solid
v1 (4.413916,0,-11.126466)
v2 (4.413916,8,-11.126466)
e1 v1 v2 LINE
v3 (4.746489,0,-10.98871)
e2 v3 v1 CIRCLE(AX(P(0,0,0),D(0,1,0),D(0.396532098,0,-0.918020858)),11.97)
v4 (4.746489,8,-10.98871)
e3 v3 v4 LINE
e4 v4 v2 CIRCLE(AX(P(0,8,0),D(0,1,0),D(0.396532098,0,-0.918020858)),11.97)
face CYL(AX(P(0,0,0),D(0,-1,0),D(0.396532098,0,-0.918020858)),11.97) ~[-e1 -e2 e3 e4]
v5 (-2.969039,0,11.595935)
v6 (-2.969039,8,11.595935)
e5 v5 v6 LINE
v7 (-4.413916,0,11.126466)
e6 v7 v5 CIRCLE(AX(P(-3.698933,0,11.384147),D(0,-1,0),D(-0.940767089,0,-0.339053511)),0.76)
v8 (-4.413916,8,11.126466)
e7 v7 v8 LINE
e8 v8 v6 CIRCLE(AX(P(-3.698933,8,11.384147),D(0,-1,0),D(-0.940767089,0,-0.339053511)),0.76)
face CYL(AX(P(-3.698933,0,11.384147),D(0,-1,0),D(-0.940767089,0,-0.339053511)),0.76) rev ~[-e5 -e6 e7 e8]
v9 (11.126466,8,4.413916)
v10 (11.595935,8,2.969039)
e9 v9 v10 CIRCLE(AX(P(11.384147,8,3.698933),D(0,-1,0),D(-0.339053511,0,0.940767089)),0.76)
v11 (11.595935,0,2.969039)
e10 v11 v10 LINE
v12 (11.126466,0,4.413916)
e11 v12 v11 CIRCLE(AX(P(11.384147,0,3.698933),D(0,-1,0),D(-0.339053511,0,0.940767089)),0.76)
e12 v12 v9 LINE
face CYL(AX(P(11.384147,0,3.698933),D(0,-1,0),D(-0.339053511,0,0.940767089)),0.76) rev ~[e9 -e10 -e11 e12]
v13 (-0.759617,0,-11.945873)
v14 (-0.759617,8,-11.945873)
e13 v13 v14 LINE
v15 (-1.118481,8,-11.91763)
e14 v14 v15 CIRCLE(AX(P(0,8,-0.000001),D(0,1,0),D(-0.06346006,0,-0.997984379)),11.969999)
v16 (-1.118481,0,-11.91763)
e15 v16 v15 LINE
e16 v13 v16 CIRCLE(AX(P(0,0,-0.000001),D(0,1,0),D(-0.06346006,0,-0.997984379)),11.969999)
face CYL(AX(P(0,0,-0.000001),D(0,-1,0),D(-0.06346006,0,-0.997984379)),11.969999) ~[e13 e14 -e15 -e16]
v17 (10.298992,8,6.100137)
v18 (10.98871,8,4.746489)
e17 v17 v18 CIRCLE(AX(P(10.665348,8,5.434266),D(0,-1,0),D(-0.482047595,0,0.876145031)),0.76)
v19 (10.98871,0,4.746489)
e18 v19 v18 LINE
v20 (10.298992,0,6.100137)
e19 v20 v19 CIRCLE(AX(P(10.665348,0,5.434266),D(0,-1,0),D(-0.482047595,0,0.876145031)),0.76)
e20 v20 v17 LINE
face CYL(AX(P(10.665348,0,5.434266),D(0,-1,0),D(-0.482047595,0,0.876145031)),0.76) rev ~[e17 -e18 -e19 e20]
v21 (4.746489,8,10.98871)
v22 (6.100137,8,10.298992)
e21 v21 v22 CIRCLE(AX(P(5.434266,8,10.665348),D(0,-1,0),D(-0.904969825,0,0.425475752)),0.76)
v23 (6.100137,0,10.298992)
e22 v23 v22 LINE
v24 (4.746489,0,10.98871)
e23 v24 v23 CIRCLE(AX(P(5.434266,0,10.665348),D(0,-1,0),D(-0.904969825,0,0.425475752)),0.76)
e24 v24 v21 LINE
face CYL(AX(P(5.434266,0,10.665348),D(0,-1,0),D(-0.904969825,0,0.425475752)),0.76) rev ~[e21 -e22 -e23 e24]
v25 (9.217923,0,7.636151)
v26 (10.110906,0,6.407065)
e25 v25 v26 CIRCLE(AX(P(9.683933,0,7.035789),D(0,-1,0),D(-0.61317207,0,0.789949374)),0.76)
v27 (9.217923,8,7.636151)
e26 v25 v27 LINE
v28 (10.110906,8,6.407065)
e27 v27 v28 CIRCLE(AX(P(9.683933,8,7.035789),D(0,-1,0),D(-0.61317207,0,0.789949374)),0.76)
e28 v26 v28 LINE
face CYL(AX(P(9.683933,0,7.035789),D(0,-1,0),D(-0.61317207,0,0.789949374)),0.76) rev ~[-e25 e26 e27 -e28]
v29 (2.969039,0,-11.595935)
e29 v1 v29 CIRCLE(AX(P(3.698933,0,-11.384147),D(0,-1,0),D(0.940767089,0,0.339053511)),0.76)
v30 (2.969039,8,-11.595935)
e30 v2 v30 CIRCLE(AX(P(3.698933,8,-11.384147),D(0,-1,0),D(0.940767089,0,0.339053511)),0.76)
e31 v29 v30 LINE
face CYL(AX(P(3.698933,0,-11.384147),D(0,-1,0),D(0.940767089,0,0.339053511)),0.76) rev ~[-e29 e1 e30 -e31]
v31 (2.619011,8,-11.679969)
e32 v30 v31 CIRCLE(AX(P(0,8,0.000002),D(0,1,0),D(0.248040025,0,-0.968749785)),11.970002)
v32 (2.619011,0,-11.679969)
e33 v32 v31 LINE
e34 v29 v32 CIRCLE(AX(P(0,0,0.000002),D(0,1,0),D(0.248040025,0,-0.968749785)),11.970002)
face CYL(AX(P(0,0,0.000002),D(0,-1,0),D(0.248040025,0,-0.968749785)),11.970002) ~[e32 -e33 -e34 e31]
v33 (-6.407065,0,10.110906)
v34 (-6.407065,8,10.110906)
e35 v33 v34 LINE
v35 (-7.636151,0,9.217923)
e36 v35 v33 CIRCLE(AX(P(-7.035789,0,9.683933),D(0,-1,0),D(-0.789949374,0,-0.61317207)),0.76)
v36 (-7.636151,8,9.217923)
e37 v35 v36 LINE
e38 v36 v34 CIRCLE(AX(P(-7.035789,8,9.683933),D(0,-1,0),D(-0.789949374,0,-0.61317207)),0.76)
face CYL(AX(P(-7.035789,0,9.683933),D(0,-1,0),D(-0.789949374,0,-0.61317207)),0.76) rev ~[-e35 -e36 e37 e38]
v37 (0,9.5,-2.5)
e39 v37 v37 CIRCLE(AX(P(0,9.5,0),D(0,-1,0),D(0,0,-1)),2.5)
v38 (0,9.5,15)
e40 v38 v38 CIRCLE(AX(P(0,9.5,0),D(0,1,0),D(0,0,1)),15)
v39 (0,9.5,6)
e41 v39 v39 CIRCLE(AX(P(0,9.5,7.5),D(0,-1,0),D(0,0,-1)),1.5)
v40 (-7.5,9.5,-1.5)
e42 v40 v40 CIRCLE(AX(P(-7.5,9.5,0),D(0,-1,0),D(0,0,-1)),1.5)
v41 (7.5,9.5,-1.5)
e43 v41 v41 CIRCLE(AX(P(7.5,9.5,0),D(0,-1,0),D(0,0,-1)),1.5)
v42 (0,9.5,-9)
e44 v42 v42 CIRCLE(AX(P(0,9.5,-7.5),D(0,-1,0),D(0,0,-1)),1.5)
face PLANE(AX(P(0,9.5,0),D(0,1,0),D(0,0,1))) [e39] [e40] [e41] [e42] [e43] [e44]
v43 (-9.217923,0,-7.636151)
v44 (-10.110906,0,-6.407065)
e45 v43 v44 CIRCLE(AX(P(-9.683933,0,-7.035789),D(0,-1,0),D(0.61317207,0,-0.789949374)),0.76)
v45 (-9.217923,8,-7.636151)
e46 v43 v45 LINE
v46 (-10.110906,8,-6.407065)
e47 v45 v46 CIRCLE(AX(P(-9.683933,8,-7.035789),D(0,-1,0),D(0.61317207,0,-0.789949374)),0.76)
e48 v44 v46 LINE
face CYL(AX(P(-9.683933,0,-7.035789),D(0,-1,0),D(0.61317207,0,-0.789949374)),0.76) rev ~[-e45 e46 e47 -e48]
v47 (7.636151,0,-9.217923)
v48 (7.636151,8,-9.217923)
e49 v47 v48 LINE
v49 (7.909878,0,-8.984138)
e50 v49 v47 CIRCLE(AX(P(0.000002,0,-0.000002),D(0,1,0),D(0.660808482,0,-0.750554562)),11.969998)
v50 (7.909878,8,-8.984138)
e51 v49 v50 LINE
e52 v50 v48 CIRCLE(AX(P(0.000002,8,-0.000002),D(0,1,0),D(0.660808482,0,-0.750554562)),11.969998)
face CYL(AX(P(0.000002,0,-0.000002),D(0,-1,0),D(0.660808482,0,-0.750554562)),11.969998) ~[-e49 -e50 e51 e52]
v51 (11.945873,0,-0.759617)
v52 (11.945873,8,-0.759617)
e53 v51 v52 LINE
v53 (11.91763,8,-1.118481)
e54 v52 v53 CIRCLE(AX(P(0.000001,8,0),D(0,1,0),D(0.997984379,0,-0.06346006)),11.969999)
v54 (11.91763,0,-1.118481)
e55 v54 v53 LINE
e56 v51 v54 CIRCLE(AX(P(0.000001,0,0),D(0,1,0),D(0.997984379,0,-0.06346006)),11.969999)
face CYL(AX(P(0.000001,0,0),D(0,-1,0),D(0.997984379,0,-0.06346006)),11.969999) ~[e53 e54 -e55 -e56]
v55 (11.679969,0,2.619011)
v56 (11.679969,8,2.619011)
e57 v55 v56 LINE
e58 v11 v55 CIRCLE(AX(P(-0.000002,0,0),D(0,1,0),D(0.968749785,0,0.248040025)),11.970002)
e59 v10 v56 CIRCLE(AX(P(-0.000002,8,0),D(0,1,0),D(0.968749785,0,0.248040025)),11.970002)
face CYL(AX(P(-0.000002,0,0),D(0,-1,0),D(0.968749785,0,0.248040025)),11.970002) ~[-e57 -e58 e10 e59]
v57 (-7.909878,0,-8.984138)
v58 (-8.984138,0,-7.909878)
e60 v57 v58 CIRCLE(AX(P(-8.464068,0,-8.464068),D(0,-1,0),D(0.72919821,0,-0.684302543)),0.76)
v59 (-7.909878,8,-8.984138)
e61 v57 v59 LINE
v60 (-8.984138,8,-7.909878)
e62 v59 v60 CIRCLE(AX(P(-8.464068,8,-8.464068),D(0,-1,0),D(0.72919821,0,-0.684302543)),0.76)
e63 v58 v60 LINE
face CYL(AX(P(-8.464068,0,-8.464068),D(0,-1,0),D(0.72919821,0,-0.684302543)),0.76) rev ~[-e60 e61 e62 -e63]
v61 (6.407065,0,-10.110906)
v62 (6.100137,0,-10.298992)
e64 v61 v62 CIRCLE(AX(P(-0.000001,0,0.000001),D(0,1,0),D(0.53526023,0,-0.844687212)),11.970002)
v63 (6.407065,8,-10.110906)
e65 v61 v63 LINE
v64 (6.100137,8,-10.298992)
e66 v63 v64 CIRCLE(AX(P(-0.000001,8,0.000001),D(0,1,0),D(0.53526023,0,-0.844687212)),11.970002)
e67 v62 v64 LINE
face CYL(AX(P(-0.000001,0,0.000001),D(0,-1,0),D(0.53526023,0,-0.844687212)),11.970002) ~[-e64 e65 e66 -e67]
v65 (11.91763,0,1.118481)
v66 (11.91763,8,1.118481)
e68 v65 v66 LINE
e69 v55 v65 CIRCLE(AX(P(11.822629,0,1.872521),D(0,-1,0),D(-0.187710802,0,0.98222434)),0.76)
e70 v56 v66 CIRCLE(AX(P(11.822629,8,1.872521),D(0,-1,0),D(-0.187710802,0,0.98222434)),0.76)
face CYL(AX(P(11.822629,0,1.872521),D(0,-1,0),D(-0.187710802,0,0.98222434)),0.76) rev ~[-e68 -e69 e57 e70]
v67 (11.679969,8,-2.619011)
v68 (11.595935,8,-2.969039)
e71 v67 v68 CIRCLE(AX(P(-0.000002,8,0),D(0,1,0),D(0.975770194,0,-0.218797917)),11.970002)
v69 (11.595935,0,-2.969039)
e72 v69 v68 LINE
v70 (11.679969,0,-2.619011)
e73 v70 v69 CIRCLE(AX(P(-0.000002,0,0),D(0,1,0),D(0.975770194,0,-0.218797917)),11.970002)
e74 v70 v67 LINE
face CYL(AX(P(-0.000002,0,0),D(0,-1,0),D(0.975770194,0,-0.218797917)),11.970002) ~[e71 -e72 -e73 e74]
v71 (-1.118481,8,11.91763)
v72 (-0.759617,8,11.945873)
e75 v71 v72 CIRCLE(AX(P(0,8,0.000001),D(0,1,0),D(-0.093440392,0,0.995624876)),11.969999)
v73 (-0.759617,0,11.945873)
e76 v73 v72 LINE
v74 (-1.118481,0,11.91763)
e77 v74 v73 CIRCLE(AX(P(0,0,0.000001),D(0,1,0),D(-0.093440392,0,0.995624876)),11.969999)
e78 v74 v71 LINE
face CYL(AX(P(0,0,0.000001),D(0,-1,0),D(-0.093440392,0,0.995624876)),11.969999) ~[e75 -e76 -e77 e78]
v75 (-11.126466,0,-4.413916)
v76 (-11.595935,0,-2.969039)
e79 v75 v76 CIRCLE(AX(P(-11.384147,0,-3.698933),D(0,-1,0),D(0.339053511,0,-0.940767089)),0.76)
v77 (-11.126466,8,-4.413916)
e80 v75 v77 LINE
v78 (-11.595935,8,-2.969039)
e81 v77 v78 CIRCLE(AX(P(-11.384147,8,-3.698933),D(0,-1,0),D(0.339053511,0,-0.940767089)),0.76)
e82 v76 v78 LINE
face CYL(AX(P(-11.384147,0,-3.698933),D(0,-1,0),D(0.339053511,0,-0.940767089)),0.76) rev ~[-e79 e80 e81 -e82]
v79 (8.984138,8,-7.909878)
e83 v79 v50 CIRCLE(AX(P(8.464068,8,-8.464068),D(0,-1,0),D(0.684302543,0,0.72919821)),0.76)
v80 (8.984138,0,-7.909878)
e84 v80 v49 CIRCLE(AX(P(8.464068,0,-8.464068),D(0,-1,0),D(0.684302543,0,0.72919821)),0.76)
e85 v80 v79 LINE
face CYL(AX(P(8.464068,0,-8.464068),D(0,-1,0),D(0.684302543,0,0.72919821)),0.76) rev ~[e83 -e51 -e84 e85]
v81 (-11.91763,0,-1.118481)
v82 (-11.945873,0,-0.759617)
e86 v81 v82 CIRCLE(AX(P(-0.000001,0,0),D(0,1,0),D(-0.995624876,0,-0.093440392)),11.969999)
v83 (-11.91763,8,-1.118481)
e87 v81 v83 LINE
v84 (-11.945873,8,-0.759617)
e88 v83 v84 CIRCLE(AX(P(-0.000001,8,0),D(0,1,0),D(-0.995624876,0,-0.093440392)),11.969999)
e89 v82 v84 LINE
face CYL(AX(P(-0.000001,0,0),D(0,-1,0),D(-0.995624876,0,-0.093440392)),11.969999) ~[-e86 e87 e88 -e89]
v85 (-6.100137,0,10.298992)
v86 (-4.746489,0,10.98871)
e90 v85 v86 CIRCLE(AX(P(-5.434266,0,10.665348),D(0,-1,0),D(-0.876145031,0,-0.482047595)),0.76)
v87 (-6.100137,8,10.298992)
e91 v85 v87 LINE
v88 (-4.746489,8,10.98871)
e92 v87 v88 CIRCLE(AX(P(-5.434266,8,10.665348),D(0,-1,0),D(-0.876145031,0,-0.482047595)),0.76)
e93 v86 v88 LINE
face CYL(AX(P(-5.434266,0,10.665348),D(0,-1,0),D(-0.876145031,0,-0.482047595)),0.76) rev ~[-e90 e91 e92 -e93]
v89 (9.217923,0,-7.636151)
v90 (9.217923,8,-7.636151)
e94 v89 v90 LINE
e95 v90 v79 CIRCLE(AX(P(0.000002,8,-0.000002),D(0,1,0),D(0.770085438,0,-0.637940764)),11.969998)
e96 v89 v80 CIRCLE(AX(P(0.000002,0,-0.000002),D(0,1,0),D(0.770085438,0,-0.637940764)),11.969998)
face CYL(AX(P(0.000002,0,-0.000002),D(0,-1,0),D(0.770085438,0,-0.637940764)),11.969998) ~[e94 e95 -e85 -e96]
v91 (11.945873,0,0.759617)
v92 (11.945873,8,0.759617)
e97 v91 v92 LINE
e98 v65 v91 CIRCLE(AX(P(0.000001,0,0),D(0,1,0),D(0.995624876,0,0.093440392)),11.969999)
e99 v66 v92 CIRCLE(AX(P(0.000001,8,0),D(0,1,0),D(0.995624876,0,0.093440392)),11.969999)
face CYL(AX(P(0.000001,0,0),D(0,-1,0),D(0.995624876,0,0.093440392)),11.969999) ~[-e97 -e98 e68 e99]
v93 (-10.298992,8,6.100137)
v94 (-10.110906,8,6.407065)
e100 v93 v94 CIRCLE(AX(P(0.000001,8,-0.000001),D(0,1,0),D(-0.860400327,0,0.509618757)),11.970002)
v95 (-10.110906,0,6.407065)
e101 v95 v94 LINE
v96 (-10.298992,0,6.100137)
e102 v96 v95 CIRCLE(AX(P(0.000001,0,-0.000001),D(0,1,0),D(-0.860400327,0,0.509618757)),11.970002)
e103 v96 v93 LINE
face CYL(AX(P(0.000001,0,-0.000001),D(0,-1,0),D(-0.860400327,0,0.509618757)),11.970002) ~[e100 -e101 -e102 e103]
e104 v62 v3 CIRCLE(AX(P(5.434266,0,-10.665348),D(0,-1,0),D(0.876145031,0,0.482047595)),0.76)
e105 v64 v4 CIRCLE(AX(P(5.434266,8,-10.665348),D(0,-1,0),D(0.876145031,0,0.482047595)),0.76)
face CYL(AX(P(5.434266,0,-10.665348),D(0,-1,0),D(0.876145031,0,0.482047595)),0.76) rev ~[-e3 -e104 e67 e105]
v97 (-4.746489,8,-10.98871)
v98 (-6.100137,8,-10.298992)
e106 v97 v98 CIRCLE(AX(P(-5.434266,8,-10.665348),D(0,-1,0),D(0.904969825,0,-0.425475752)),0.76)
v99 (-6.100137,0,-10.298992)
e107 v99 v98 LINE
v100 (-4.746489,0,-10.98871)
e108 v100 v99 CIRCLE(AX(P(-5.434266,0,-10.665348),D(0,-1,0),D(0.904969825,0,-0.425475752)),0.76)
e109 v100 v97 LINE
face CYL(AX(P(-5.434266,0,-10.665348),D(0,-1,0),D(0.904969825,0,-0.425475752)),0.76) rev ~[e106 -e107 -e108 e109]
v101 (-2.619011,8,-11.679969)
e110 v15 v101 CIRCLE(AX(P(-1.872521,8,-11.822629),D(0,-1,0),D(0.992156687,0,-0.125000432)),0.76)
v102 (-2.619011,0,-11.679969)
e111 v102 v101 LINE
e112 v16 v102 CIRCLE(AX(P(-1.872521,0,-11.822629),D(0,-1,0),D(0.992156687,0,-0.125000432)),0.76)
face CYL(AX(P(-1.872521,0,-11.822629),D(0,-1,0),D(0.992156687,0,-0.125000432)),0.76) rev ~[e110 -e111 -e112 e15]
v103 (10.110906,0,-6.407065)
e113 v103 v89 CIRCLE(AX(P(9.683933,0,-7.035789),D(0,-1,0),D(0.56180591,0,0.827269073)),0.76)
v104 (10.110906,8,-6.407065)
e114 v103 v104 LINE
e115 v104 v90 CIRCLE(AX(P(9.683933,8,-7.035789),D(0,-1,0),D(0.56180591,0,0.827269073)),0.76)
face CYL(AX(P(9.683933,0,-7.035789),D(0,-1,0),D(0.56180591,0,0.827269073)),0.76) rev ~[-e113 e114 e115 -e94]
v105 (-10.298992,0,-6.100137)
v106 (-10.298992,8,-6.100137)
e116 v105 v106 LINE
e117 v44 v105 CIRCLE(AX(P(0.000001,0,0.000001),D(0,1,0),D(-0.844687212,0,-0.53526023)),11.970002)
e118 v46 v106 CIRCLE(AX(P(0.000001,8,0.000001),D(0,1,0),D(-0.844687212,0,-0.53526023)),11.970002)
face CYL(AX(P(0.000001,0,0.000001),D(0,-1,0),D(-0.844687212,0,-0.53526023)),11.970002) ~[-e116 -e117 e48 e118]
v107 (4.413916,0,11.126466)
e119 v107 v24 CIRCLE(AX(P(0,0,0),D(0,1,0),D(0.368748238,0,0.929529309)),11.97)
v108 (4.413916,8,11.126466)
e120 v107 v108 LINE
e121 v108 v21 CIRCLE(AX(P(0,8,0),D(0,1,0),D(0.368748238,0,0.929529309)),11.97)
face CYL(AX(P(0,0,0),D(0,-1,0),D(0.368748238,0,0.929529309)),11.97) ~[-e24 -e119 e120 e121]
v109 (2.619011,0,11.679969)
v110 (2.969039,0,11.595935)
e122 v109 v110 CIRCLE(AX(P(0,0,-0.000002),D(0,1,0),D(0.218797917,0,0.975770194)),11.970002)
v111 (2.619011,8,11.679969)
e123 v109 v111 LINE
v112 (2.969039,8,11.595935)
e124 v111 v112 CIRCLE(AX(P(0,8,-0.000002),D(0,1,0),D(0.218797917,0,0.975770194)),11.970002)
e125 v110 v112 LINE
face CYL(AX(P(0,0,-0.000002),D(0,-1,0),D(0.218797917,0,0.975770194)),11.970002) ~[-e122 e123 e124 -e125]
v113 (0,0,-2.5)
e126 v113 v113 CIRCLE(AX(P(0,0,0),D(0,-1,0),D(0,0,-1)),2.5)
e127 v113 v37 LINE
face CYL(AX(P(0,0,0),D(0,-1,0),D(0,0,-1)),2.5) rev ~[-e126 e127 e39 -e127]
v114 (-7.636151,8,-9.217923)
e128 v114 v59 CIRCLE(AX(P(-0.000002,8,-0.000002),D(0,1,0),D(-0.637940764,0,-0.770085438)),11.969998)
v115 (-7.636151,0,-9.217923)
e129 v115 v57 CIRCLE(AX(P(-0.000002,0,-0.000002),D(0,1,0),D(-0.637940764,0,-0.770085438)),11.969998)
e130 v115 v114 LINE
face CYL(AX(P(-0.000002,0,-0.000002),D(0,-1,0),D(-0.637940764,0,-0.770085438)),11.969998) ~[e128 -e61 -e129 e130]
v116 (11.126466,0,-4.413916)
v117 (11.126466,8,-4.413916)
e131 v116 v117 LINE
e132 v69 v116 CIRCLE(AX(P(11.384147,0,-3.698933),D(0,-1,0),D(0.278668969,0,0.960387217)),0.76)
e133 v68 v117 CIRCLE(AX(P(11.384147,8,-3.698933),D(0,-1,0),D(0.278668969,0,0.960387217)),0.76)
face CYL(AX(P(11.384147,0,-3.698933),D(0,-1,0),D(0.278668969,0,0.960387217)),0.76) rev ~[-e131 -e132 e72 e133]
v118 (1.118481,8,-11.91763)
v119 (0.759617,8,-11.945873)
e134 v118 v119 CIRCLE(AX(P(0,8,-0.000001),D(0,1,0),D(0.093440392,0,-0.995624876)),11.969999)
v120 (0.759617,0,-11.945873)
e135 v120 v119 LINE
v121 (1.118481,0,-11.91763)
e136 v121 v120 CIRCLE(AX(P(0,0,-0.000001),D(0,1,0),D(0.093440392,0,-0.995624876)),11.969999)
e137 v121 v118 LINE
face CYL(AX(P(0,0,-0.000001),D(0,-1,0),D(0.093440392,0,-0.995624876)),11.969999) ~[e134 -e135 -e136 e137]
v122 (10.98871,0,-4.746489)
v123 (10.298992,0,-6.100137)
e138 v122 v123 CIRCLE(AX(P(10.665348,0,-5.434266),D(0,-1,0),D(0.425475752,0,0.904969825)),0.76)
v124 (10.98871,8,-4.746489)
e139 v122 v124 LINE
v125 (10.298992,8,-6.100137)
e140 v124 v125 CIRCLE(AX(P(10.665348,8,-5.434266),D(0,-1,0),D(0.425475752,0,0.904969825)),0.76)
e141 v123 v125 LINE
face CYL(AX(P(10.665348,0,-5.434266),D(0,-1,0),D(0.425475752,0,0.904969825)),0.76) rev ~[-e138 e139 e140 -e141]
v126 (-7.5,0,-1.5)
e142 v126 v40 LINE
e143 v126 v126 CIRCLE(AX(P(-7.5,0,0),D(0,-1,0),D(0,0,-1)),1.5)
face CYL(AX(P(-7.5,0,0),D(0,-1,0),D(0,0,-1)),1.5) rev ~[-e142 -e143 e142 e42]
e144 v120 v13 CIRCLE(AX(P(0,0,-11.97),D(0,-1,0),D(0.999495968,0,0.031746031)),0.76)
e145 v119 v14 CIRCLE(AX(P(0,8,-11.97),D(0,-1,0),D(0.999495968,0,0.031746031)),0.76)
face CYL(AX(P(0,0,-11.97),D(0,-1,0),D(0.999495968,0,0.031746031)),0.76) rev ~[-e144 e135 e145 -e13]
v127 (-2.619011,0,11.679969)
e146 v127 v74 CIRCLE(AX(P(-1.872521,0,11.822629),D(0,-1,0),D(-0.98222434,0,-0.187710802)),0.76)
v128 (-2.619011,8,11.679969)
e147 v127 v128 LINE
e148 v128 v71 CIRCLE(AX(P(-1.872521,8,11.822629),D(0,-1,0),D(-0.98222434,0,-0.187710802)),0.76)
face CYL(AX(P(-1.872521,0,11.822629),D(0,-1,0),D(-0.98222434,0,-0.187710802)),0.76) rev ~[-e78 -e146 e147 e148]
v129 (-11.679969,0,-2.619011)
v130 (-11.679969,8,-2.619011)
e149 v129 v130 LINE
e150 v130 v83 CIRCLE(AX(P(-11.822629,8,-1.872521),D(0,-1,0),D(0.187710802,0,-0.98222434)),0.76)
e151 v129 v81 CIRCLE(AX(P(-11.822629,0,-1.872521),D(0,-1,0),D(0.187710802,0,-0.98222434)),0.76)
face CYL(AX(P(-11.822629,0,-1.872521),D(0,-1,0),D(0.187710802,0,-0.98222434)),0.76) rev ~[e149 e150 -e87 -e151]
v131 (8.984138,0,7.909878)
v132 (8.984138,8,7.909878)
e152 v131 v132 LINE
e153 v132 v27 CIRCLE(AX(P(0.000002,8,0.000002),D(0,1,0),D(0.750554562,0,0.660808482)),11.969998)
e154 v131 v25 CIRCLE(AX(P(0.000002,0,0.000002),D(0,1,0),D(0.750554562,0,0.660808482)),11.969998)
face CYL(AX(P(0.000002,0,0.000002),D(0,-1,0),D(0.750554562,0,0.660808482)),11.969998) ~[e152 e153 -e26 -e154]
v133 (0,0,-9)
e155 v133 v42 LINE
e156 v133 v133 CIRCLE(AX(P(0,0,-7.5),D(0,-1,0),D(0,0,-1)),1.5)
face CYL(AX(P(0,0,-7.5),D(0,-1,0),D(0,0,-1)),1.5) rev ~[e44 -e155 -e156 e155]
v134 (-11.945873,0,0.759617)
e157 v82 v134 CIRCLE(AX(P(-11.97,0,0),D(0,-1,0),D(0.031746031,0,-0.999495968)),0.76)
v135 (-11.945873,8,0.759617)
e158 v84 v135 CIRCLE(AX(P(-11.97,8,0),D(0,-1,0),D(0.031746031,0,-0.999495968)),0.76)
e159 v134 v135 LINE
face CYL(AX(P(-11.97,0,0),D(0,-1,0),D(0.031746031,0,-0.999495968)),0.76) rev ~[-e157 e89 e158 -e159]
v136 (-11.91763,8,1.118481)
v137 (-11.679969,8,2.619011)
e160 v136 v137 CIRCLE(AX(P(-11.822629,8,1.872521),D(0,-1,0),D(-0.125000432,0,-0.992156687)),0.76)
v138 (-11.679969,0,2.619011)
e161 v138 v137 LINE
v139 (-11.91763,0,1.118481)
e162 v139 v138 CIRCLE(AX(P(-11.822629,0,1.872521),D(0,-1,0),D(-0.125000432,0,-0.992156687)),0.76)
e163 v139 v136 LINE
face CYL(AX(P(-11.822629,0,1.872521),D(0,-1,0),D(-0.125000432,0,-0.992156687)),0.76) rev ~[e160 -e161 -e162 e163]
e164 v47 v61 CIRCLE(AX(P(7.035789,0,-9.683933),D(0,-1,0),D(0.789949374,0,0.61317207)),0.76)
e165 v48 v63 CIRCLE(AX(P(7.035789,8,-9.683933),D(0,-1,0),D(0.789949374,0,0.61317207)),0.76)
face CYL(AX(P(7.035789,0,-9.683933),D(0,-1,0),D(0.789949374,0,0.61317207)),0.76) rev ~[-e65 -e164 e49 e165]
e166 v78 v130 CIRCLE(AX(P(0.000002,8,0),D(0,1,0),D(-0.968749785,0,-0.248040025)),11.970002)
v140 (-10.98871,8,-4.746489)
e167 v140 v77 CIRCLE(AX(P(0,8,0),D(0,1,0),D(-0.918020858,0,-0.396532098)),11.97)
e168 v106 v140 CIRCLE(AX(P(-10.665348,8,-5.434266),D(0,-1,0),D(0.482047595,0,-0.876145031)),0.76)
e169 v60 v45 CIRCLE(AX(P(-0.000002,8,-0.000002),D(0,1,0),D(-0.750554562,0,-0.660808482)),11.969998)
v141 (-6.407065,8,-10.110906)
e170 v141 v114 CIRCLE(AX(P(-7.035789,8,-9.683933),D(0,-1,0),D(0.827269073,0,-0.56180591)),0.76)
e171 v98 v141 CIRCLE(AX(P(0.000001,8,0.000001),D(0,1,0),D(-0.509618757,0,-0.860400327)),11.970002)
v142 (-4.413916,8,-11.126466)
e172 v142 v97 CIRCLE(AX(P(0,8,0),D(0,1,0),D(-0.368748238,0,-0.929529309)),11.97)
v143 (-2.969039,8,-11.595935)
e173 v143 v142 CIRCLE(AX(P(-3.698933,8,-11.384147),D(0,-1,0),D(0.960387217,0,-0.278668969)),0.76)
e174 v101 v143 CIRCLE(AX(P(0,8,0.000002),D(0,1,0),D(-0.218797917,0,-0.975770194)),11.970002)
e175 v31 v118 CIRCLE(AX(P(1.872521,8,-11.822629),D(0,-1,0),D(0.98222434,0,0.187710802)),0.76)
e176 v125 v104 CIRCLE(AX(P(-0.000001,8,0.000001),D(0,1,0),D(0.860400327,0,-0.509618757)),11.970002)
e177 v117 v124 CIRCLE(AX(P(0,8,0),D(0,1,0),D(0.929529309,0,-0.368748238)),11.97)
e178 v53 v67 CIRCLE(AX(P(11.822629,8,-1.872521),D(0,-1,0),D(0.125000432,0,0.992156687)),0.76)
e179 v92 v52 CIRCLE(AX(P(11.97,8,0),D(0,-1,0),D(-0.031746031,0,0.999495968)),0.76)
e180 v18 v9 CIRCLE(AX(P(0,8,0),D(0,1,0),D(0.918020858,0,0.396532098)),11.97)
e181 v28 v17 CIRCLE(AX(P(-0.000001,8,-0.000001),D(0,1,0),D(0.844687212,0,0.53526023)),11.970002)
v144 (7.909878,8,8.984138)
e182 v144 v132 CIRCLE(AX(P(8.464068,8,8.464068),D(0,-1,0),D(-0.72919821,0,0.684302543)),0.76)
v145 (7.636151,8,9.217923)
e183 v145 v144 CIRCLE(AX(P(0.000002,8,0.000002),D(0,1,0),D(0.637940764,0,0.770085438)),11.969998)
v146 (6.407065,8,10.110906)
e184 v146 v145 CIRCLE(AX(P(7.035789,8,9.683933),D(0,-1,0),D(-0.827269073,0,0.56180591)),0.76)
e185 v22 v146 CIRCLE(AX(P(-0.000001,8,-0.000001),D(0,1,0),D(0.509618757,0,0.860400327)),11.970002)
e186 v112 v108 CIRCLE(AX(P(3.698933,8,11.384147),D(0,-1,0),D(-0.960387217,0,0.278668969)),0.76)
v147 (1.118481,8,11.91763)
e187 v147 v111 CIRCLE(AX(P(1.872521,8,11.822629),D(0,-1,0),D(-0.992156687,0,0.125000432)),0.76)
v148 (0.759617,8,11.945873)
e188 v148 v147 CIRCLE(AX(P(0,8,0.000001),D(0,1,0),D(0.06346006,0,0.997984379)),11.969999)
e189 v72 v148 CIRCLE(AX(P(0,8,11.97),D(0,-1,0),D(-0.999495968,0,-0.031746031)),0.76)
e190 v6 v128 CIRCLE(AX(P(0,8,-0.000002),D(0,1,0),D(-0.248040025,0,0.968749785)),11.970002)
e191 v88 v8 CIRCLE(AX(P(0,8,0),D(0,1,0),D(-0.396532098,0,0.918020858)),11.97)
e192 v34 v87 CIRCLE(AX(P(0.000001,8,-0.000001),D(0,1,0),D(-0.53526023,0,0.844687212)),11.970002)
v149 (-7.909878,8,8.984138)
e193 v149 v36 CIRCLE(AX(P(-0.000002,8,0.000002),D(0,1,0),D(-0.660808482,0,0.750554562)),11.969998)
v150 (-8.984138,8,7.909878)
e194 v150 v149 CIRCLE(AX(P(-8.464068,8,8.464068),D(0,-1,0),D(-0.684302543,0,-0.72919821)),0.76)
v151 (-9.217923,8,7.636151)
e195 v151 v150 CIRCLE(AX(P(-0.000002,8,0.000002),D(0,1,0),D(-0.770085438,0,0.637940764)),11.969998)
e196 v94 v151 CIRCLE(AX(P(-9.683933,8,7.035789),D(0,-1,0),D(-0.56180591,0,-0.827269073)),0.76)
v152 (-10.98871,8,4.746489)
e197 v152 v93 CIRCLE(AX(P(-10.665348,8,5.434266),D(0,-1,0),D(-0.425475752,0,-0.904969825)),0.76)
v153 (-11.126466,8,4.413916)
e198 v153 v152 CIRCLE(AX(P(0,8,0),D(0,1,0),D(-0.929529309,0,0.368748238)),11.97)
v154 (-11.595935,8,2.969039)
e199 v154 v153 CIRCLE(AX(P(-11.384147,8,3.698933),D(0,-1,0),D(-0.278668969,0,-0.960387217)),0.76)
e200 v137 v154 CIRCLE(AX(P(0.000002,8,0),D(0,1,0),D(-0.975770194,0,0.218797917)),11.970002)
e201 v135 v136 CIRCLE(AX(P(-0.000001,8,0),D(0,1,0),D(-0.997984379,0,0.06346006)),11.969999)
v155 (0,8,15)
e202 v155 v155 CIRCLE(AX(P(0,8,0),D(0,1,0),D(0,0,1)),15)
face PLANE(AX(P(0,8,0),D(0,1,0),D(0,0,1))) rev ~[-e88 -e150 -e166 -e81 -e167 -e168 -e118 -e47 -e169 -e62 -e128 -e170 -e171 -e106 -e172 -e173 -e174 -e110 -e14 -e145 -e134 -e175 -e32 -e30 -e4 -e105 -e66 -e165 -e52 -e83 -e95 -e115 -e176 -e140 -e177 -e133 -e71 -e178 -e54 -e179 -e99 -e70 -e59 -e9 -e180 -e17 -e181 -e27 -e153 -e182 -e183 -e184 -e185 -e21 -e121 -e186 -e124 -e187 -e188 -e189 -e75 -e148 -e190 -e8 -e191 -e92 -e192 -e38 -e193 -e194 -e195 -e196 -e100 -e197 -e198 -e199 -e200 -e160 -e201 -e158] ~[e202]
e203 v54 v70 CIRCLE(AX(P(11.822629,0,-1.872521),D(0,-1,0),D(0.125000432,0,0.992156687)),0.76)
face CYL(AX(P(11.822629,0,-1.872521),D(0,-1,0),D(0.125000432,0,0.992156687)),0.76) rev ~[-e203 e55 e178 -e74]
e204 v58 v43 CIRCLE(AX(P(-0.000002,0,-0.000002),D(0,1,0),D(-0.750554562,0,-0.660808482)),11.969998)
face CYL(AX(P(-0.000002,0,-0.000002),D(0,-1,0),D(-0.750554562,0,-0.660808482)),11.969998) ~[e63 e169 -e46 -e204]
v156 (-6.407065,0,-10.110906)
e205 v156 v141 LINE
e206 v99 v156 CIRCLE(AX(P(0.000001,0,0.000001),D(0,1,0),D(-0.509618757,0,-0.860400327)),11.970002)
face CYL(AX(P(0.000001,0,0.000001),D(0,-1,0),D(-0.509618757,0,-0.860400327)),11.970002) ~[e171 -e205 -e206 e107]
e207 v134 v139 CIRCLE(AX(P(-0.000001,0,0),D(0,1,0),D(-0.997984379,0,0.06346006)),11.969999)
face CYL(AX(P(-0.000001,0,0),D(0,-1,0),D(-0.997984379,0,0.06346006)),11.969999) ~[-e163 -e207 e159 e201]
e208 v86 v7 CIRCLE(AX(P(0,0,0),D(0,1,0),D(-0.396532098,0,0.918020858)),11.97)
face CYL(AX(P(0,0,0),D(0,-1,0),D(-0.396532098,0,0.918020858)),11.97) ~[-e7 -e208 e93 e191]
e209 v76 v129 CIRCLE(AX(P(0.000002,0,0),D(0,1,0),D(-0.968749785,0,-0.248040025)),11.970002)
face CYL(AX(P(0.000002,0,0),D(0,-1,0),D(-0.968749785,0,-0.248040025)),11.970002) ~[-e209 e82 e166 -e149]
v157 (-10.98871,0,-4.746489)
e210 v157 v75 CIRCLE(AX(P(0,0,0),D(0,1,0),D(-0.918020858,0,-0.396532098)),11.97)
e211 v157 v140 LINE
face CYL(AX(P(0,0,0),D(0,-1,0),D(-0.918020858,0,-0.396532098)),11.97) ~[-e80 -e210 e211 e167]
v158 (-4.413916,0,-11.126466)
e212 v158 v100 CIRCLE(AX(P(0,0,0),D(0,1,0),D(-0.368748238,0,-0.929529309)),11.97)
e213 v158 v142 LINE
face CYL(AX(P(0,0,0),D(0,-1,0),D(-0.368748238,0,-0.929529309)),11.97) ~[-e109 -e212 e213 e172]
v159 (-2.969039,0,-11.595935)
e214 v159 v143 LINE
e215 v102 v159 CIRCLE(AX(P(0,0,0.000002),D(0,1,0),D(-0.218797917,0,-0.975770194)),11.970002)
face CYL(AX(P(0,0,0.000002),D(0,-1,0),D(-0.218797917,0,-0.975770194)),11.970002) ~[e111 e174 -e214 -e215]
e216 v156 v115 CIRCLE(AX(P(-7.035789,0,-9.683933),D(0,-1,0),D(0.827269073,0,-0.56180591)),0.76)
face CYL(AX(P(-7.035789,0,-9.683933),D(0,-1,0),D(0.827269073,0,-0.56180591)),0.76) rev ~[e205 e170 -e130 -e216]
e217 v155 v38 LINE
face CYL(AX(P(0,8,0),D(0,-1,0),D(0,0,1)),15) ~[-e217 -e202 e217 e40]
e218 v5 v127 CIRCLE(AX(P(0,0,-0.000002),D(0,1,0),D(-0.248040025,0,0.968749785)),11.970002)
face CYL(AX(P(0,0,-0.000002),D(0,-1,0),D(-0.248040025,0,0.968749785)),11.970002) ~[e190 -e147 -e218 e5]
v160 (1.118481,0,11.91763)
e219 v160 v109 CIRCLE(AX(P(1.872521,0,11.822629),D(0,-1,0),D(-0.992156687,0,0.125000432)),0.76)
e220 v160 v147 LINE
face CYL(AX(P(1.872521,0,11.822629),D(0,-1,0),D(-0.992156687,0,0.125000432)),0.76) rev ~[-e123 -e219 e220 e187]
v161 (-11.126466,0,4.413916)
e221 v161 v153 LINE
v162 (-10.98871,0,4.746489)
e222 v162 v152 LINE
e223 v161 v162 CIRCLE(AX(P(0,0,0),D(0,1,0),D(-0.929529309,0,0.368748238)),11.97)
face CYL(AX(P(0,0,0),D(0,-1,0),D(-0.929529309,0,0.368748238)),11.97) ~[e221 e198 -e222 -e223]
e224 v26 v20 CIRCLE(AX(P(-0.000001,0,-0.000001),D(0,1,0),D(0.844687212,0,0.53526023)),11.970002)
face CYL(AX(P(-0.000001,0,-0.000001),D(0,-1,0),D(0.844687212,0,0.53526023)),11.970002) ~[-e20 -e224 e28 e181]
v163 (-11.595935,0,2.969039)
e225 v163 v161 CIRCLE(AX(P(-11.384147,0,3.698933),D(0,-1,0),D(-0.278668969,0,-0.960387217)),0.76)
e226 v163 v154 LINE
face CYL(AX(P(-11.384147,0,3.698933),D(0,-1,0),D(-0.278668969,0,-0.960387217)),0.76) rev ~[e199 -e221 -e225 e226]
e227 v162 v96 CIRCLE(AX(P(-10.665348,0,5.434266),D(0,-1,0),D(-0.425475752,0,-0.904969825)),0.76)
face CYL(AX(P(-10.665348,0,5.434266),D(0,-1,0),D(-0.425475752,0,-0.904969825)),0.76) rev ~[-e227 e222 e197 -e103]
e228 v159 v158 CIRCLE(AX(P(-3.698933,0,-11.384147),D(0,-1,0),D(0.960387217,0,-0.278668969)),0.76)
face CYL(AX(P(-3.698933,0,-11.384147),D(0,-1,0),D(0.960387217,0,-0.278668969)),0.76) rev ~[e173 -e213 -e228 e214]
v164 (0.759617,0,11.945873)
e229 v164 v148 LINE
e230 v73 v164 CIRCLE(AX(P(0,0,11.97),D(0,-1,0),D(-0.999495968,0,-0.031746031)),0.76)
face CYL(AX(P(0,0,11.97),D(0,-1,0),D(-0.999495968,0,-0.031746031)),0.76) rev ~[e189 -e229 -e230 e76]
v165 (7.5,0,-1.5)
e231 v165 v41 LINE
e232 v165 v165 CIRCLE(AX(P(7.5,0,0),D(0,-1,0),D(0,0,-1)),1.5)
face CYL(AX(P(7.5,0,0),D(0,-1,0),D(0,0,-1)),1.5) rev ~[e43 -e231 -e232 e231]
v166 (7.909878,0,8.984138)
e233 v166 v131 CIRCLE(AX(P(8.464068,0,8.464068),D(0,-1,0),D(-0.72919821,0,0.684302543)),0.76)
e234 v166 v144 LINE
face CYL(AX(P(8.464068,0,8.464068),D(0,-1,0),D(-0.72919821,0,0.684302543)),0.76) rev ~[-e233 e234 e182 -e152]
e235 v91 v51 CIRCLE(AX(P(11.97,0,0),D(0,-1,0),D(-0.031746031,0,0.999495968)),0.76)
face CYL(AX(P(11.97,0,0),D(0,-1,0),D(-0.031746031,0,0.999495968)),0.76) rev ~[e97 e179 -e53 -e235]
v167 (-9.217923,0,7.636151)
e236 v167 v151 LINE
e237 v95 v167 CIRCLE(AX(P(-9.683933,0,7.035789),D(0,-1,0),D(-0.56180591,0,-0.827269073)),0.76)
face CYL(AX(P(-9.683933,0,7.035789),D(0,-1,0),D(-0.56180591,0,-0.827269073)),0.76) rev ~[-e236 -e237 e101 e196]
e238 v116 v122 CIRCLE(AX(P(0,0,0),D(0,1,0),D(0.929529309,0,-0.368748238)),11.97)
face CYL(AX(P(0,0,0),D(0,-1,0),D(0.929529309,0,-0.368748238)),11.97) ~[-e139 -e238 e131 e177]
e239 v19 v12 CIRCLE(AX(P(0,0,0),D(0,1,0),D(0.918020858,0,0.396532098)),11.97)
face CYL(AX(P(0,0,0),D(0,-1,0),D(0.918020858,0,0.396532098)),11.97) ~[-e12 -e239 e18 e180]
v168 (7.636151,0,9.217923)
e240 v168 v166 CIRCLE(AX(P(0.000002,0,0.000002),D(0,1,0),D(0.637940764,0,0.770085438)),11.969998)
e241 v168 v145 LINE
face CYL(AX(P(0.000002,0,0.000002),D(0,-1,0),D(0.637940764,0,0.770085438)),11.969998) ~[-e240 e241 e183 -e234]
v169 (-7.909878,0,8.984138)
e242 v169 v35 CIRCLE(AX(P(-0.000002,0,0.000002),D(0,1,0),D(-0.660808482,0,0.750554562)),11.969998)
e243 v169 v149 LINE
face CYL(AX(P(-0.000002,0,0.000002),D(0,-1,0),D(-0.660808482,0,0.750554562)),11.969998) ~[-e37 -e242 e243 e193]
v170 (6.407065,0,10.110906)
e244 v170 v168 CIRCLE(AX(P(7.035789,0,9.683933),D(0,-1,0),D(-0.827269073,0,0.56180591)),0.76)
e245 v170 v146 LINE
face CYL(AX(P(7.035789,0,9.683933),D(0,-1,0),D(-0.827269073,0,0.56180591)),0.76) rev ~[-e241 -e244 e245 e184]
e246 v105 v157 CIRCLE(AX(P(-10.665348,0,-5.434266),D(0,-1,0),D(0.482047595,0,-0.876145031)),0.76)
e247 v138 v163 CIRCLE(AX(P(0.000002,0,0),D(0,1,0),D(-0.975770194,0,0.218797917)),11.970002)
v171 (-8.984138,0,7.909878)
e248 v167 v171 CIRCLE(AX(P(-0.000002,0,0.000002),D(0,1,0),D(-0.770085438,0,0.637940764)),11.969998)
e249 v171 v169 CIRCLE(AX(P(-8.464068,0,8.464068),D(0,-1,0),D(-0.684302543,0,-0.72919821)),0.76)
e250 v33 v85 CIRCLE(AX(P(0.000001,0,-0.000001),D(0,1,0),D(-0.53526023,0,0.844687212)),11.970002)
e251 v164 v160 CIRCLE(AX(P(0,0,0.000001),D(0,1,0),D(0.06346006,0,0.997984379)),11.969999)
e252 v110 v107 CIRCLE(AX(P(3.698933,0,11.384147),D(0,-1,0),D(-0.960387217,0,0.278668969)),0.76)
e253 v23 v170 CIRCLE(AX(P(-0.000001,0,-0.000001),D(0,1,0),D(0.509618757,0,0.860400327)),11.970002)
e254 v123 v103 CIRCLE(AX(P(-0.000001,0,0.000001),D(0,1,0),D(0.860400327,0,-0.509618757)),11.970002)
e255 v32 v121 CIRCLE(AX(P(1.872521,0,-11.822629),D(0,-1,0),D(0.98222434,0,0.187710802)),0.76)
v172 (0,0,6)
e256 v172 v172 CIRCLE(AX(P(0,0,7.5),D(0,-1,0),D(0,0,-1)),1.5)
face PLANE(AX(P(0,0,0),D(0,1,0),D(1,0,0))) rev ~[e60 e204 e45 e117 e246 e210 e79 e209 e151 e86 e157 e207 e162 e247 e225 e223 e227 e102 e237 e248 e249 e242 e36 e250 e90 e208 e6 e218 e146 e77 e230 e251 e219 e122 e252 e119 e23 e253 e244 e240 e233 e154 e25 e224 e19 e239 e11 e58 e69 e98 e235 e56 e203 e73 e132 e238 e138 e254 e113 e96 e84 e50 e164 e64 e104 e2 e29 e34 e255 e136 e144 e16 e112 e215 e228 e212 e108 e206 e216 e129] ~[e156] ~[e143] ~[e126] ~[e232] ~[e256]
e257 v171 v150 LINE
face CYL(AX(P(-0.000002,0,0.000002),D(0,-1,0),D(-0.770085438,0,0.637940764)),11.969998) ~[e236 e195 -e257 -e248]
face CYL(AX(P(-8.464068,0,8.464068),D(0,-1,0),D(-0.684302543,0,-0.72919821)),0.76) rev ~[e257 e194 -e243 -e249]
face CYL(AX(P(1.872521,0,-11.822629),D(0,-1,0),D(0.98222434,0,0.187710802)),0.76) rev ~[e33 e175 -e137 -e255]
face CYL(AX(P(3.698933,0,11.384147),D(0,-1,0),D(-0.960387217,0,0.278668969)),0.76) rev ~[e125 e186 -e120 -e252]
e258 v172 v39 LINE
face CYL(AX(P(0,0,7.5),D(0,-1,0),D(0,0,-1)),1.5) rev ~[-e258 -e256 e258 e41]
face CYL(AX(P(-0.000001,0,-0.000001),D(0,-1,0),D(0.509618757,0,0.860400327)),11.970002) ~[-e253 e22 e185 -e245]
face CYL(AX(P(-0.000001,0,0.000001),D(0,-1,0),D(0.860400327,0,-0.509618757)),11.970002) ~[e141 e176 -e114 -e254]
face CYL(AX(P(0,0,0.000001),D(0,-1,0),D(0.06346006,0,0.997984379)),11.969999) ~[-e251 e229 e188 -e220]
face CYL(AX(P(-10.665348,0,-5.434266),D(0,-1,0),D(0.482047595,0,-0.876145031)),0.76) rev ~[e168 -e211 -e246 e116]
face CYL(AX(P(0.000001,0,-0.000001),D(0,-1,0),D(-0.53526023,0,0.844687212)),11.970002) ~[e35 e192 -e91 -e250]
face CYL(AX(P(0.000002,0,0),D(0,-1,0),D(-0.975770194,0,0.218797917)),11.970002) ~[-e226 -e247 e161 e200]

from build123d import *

# Parameters (mm, degrees)
BOSS_EXTRUDE1_DEPTH = 8
SKETCH2_R           = 15
BOSS_EXTRUDE2_DEPTH = 1.5
SKETCH4_R           = 2.5
CUT_EXTRUDE1_DEPTH  = 23
SKETCH5_R           = 1.5
CUT_EXTRUDE2_DEPTH  = 24.243278598


with BuildPart() as part:
    # Sketch1 → Boss-Extrude1 (new body)
    with BuildSketch(Plane(origin=(0, 0, 0), x_dir=(1, 0, 0), z_dir=(0, 1, 0))):
        with BuildLine():
            ThreePointArc((-2.619011045, 11.679969227), (-2.794341005, 11.639267947), (-2.969039138, 11.595934917))
            ThreePointArc((-2.969039138, 11.595934917), (-3.464080507, 10.661343548), (-4.413916411, 11.126465832))
            ThreePointArc((-4.413916411, 11.126465832), (-4.580720685, 11.058838004), (-4.746489215, 10.988709666))
            ThreePointArc((-4.746489215, 10.988709666), (-5.089233502, 9.988183136), (-6.100136506, 10.298991922))
            ThreePointArc((-6.100136506, 10.298991922), (-6.25430782, 10.206102767), (-6.407064974, 10.110905915))
            ThreePointArc((-6.407064974, 10.110905915), (-6.589072678, 9.069080507), (-7.636150994, 9.21792265))
            ThreePointArc((-7.636150994, 9.21792265), (-7.773893139, 9.102059408), (-7.909877531, 8.984138103))
            ThreePointArc((-7.909877531, 8.984138103), (-7.926667017, 7.926667017), (-8.984138103, 7.909877531))
            ThreePointArc((-8.984138103, 7.909877531), (-9.102059408, 7.773893139), (-9.21792265, 7.636150994))
            ThreePointArc((-9.21792265, 7.636150994), (-9.069080507, 6.589072678), (-10.110905915, 6.407064974))
            ThreePointArc((-10.110905915, 6.407064974), (-10.206102767, 6.25430782), (-10.298991922, 6.100136506))
            ThreePointArc((-10.298991922, 6.100136506), (-9.988183136, 5.089233502), (-10.988709666, 4.746489215))
            ThreePointArc((-10.988709666, 4.746489215), (-11.058838004, 4.580720685), (-11.126465832, 4.413916411))
            ThreePointArc((-11.126465832, 4.413916411), (-10.661343548, 3.464080507), (-11.595934917, 2.969039138))
            ThreePointArc((-11.595934917, 2.969039138), (-11.639267947, 2.794341005), (-11.679969227, 2.619011045))
            ThreePointArc((-11.679969227, 2.619011045), (-11.071986298, 1.753630353), (-11.917629765, 1.118481464))
            ThreePointArc((-11.917629765, 1.118481464), (-11.933100485, 0.939155376), (-11.945873016, 0.759616935))
            ThreePointArc((-11.945873016, 0.759616935), (-11.21, 0), (-11.945873016, -0.759616935))
            ThreePointArc((-11.945873016, -0.759616935), (-11.933100485, -0.939155376), (-11.917629765, -1.118481464))
            ThreePointArc((-11.917629765, -1.118481464), (-11.071986298, -1.753630353), (-11.679969227, -2.619011045))
            ThreePointArc((-11.679969227, -2.619011045), (-11.639267947, -2.794341005), (-11.595934917, -2.969039138))
            ThreePointArc((-11.595934917, -2.969039138), (-10.661343548, -3.464080507), (-11.126465832, -4.413916411))
            ThreePointArc((-11.126465832, -4.413916411), (-11.058838004, -4.580720685), (-10.988709666, -4.746489215))
            ThreePointArc((-10.988709666, -4.746489215), (-9.988183136, -5.089233502), (-10.298991922, -6.100136506))
            ThreePointArc((-10.298991922, -6.100136506), (-10.206102767, -6.25430782), (-10.110905915, -6.407064974))
            ThreePointArc((-10.110905915, -6.407064974), (-9.069080507, -6.589072678), (-9.21792265, -7.636150994))
            ThreePointArc((-9.21792265, -7.636150994), (-9.102059408, -7.773893139), (-8.984138103, -7.909877531))
            ThreePointArc((-8.984138103, -7.909877531), (-7.926667017, -7.926667017), (-7.909877531, -8.984138103))
            ThreePointArc((-7.909877531, -8.984138103), (-7.773893139, -9.102059408), (-7.636150994, -9.21792265))
            ThreePointArc((-7.636150994, -9.21792265), (-6.589072678, -9.069080507), (-6.407064974, -10.110905915))
            ThreePointArc((-6.407064974, -10.110905915), (-6.25430782, -10.206102767), (-6.100136506, -10.298991922))
            ThreePointArc((-6.100136506, -10.298991922), (-5.089233502, -9.988183136), (-4.746489215, -10.988709666))
            ThreePointArc((-4.746489215, -10.988709666), (-4.580720685, -11.058838004), (-4.413916411, -11.126465832))
            ThreePointArc((-4.413916411, -11.126465832), (-3.464080507, -10.661343548), (-2.969039138, -11.595934917))
            ThreePointArc((-2.969039138, -11.595934917), (-2.794341005, -11.639267947), (-2.619011045, -11.679969227))
            ThreePointArc((-2.619011045, -11.679969227), (-1.753630353, -11.071986298), (-1.118481464, -11.917629765))
            ThreePointArc((-1.118481464, -11.917629765), (-0.939155376, -11.933100485), (-0.759616935, -11.945873016))
            ThreePointArc((-0.759616935, -11.945873016), (0, -11.21), (0.759616935, -11.945873016))
            ThreePointArc((0.759616935, -11.945873016), (0.939155376, -11.933100485), (1.118481464, -11.917629765))
            ThreePointArc((1.118481464, -11.917629765), (1.753630353, -11.071986298), (2.619011045, -11.679969227))
            ThreePointArc((2.619011045, -11.679969227), (2.794341005, -11.639267947), (2.969039138, -11.595934917))
            ThreePointArc((2.969039138, -11.595934917), (3.464080507, -10.661343548), (4.413916411, -11.126465832))
            ThreePointArc((4.413916411, -11.126465832), (4.580720685, -11.058838004), (4.746489215, -10.988709666))
            ThreePointArc((4.746489215, -10.988709666), (5.089233502, -9.988183136), (6.100136506, -10.298991922))
            ThreePointArc((6.100136506, -10.298991922), (6.25430782, -10.206102767), (6.407064974, -10.110905915))
            ThreePointArc((6.407064974, -10.110905915), (6.589072678, -9.069080507), (7.636150994, -9.21792265))
            ThreePointArc((7.636150994, -9.21792265), (7.773893139, -9.102059408), (7.909877531, -8.984138103))
            ThreePointArc((7.909877531, -8.984138103), (7.926667017, -7.926667017), (8.984138103, -7.909877531))
            ThreePointArc((8.984138103, -7.909877531), (9.102059408, -7.773893139), (9.21792265, -7.636150994))
            ThreePointArc((9.21792265, -7.636150994), (9.069080507, -6.589072678), (10.110905915, -6.407064974))
            ThreePointArc((10.110905915, -6.407064974), (10.206102767, -6.25430782), (10.298991922, -6.100136506))
            ThreePointArc((10.298991922, -6.100136506), (9.988183136, -5.089233502), (10.988709666, -4.746489215))
            ThreePointArc((10.988709666, -4.746489215), (11.058838004, -4.580720685), (11.126465832, -4.413916411))
            ThreePointArc((11.126465832, -4.413916411), (10.661343548, -3.464080507), (11.595934917, -2.969039138))
            ThreePointArc((11.595934917, -2.969039138), (11.639267947, -2.794341005), (11.679969227, -2.619011045))
            ThreePointArc((11.679969227, -2.619011045), (11.071986298, -1.753630353), (11.917629765, -1.118481464))
            ThreePointArc((11.917629765, -1.118481464), (11.933100485, -0.939155376), (11.945873016, -0.759616935))
            ThreePointArc((11.945873016, -0.759616935), (11.21, 0), (11.945873016, 0.759616935))
            ThreePointArc((11.945873016, 0.759616935), (11.933100485, 0.939155376), (11.917629765, 1.118481464))
            ThreePointArc((11.917629765, 1.118481464), (11.071986298, 1.753630353), (11.679969227, 2.619011045))
            ThreePointArc((11.679969227, 2.619011045), (11.639267947, 2.794341005), (11.595934917, 2.969039138))
            ThreePointArc((11.595934917, 2.969039138), (10.661343548, 3.464080507), (11.126465832, 4.413916411))
            ThreePointArc((11.126465832, 4.413916411), (11.058838004, 4.580720685), (10.988709666, 4.746489215))
            ThreePointArc((10.988709666, 4.746489215), (9.988183136, 5.089233502), (10.298991922, 6.100136506))
            ThreePointArc((10.298991922, 6.100136506), (10.206102767, 6.25430782), (10.110905915, 6.407064974))
            ThreePointArc((10.110905915, 6.407064974), (9.069080507, 6.589072678), (9.21792265, 7.636150994))
            ThreePointArc((9.21792265, 7.636150994), (9.102059408, 7.773893139), (8.984138103, 7.909877531))
            ThreePointArc((8.984138103, 7.909877531), (7.926667017, 7.926667017), (7.909877531, 8.984138103))
            ThreePointArc((7.909877531, 8.984138103), (7.773893139, 9.102059408), (7.636150994, 9.21792265))
            ThreePointArc((7.636150994, 9.21792265), (6.589072678, 9.069080507), (6.407064974, 10.110905915))
            ThreePointArc((6.407064974, 10.110905915), (6.25430782, 10.206102767), (6.100136506, 10.298991922))
            ThreePointArc((6.100136506, 10.298991922), (5.089233502, 9.988183136), (4.746489215, 10.988709666))
            ThreePointArc((4.746489215, 10.988709666), (4.580720685, 11.058838004), (4.413916411, 11.126465832))
            ThreePointArc((4.413916411, 11.126465832), (3.464080507, 10.661343548), (2.969039138, 11.595934917))
            ThreePointArc((2.969039138, 11.595934917), (2.794341005, 11.639267947), (2.619011045, 11.679969227))
            ThreePointArc((2.619011045, 11.679969227), (1.753630353, 11.071986298), (1.118481464, 11.917629765))
            ThreePointArc((1.118481464, 11.917629765), (0.939155376, 11.933100485), (0.759616935, 11.945873016))
            ThreePointArc((0.759616935, 11.945873016), (0, 11.21), (-0.759616935, 11.945873016))
            ThreePointArc((-0.759616935, 11.945873016), (-0.939155376, 11.933100485), (-1.118481464, 11.917629765))
            ThreePointArc((-1.118481464, 11.917629765), (-1.753630353, 11.071986298), (-2.619011045, 11.679969227))
        make_face()
    extrude(amount=BOSS_EXTRUDE1_DEPTH)

    # Sketch2 → Boss-Extrude2 (add)
    with BuildSketch(Plane(origin=(0, 8, 0), x_dir=(1, 0, 0), z_dir=(0, 1, 0))):
        with Locations(Location((0, 0, 0), (0, 0, 270))):
            Circle(SKETCH2_R)
    extrude(amount=BOSS_EXTRUDE2_DEPTH)

    # Sketch4 → Cut-Extrude1 (cut)
    with BuildSketch(Plane.XZ):
        with Locations(Location((0, 0, 0), (0, 0, 270))):
            Circle(SKETCH4_R)
    extrude(amount=-CUT_EXTRUDE1_DEPTH, mode=Mode.SUBTRACT)

    # Sketch5 → Cut-Extrude2 (cut, through all)
    with BuildSketch(Plane.XZ):
        with Locations(Location((0, 7.5, 0), (0, 0, 270))):
            Circle(SKETCH5_R)
        with Locations(Location((7.5, 0, 0), (0, 0, 270))):
            Circle(SKETCH5_R)
        with Locations(Location((0, -7.5, 0), (0, 0, 270))):
            Circle(SKETCH5_R)
        with Locations(Location((-7.5, 0, 0), (0, 0, 270))):
            Circle(SKETCH5_R)
    extrude(amount=-CUT_EXTRUDE2_DEPTH, mode=Mode.SUBTRACT)


solid = part.part
